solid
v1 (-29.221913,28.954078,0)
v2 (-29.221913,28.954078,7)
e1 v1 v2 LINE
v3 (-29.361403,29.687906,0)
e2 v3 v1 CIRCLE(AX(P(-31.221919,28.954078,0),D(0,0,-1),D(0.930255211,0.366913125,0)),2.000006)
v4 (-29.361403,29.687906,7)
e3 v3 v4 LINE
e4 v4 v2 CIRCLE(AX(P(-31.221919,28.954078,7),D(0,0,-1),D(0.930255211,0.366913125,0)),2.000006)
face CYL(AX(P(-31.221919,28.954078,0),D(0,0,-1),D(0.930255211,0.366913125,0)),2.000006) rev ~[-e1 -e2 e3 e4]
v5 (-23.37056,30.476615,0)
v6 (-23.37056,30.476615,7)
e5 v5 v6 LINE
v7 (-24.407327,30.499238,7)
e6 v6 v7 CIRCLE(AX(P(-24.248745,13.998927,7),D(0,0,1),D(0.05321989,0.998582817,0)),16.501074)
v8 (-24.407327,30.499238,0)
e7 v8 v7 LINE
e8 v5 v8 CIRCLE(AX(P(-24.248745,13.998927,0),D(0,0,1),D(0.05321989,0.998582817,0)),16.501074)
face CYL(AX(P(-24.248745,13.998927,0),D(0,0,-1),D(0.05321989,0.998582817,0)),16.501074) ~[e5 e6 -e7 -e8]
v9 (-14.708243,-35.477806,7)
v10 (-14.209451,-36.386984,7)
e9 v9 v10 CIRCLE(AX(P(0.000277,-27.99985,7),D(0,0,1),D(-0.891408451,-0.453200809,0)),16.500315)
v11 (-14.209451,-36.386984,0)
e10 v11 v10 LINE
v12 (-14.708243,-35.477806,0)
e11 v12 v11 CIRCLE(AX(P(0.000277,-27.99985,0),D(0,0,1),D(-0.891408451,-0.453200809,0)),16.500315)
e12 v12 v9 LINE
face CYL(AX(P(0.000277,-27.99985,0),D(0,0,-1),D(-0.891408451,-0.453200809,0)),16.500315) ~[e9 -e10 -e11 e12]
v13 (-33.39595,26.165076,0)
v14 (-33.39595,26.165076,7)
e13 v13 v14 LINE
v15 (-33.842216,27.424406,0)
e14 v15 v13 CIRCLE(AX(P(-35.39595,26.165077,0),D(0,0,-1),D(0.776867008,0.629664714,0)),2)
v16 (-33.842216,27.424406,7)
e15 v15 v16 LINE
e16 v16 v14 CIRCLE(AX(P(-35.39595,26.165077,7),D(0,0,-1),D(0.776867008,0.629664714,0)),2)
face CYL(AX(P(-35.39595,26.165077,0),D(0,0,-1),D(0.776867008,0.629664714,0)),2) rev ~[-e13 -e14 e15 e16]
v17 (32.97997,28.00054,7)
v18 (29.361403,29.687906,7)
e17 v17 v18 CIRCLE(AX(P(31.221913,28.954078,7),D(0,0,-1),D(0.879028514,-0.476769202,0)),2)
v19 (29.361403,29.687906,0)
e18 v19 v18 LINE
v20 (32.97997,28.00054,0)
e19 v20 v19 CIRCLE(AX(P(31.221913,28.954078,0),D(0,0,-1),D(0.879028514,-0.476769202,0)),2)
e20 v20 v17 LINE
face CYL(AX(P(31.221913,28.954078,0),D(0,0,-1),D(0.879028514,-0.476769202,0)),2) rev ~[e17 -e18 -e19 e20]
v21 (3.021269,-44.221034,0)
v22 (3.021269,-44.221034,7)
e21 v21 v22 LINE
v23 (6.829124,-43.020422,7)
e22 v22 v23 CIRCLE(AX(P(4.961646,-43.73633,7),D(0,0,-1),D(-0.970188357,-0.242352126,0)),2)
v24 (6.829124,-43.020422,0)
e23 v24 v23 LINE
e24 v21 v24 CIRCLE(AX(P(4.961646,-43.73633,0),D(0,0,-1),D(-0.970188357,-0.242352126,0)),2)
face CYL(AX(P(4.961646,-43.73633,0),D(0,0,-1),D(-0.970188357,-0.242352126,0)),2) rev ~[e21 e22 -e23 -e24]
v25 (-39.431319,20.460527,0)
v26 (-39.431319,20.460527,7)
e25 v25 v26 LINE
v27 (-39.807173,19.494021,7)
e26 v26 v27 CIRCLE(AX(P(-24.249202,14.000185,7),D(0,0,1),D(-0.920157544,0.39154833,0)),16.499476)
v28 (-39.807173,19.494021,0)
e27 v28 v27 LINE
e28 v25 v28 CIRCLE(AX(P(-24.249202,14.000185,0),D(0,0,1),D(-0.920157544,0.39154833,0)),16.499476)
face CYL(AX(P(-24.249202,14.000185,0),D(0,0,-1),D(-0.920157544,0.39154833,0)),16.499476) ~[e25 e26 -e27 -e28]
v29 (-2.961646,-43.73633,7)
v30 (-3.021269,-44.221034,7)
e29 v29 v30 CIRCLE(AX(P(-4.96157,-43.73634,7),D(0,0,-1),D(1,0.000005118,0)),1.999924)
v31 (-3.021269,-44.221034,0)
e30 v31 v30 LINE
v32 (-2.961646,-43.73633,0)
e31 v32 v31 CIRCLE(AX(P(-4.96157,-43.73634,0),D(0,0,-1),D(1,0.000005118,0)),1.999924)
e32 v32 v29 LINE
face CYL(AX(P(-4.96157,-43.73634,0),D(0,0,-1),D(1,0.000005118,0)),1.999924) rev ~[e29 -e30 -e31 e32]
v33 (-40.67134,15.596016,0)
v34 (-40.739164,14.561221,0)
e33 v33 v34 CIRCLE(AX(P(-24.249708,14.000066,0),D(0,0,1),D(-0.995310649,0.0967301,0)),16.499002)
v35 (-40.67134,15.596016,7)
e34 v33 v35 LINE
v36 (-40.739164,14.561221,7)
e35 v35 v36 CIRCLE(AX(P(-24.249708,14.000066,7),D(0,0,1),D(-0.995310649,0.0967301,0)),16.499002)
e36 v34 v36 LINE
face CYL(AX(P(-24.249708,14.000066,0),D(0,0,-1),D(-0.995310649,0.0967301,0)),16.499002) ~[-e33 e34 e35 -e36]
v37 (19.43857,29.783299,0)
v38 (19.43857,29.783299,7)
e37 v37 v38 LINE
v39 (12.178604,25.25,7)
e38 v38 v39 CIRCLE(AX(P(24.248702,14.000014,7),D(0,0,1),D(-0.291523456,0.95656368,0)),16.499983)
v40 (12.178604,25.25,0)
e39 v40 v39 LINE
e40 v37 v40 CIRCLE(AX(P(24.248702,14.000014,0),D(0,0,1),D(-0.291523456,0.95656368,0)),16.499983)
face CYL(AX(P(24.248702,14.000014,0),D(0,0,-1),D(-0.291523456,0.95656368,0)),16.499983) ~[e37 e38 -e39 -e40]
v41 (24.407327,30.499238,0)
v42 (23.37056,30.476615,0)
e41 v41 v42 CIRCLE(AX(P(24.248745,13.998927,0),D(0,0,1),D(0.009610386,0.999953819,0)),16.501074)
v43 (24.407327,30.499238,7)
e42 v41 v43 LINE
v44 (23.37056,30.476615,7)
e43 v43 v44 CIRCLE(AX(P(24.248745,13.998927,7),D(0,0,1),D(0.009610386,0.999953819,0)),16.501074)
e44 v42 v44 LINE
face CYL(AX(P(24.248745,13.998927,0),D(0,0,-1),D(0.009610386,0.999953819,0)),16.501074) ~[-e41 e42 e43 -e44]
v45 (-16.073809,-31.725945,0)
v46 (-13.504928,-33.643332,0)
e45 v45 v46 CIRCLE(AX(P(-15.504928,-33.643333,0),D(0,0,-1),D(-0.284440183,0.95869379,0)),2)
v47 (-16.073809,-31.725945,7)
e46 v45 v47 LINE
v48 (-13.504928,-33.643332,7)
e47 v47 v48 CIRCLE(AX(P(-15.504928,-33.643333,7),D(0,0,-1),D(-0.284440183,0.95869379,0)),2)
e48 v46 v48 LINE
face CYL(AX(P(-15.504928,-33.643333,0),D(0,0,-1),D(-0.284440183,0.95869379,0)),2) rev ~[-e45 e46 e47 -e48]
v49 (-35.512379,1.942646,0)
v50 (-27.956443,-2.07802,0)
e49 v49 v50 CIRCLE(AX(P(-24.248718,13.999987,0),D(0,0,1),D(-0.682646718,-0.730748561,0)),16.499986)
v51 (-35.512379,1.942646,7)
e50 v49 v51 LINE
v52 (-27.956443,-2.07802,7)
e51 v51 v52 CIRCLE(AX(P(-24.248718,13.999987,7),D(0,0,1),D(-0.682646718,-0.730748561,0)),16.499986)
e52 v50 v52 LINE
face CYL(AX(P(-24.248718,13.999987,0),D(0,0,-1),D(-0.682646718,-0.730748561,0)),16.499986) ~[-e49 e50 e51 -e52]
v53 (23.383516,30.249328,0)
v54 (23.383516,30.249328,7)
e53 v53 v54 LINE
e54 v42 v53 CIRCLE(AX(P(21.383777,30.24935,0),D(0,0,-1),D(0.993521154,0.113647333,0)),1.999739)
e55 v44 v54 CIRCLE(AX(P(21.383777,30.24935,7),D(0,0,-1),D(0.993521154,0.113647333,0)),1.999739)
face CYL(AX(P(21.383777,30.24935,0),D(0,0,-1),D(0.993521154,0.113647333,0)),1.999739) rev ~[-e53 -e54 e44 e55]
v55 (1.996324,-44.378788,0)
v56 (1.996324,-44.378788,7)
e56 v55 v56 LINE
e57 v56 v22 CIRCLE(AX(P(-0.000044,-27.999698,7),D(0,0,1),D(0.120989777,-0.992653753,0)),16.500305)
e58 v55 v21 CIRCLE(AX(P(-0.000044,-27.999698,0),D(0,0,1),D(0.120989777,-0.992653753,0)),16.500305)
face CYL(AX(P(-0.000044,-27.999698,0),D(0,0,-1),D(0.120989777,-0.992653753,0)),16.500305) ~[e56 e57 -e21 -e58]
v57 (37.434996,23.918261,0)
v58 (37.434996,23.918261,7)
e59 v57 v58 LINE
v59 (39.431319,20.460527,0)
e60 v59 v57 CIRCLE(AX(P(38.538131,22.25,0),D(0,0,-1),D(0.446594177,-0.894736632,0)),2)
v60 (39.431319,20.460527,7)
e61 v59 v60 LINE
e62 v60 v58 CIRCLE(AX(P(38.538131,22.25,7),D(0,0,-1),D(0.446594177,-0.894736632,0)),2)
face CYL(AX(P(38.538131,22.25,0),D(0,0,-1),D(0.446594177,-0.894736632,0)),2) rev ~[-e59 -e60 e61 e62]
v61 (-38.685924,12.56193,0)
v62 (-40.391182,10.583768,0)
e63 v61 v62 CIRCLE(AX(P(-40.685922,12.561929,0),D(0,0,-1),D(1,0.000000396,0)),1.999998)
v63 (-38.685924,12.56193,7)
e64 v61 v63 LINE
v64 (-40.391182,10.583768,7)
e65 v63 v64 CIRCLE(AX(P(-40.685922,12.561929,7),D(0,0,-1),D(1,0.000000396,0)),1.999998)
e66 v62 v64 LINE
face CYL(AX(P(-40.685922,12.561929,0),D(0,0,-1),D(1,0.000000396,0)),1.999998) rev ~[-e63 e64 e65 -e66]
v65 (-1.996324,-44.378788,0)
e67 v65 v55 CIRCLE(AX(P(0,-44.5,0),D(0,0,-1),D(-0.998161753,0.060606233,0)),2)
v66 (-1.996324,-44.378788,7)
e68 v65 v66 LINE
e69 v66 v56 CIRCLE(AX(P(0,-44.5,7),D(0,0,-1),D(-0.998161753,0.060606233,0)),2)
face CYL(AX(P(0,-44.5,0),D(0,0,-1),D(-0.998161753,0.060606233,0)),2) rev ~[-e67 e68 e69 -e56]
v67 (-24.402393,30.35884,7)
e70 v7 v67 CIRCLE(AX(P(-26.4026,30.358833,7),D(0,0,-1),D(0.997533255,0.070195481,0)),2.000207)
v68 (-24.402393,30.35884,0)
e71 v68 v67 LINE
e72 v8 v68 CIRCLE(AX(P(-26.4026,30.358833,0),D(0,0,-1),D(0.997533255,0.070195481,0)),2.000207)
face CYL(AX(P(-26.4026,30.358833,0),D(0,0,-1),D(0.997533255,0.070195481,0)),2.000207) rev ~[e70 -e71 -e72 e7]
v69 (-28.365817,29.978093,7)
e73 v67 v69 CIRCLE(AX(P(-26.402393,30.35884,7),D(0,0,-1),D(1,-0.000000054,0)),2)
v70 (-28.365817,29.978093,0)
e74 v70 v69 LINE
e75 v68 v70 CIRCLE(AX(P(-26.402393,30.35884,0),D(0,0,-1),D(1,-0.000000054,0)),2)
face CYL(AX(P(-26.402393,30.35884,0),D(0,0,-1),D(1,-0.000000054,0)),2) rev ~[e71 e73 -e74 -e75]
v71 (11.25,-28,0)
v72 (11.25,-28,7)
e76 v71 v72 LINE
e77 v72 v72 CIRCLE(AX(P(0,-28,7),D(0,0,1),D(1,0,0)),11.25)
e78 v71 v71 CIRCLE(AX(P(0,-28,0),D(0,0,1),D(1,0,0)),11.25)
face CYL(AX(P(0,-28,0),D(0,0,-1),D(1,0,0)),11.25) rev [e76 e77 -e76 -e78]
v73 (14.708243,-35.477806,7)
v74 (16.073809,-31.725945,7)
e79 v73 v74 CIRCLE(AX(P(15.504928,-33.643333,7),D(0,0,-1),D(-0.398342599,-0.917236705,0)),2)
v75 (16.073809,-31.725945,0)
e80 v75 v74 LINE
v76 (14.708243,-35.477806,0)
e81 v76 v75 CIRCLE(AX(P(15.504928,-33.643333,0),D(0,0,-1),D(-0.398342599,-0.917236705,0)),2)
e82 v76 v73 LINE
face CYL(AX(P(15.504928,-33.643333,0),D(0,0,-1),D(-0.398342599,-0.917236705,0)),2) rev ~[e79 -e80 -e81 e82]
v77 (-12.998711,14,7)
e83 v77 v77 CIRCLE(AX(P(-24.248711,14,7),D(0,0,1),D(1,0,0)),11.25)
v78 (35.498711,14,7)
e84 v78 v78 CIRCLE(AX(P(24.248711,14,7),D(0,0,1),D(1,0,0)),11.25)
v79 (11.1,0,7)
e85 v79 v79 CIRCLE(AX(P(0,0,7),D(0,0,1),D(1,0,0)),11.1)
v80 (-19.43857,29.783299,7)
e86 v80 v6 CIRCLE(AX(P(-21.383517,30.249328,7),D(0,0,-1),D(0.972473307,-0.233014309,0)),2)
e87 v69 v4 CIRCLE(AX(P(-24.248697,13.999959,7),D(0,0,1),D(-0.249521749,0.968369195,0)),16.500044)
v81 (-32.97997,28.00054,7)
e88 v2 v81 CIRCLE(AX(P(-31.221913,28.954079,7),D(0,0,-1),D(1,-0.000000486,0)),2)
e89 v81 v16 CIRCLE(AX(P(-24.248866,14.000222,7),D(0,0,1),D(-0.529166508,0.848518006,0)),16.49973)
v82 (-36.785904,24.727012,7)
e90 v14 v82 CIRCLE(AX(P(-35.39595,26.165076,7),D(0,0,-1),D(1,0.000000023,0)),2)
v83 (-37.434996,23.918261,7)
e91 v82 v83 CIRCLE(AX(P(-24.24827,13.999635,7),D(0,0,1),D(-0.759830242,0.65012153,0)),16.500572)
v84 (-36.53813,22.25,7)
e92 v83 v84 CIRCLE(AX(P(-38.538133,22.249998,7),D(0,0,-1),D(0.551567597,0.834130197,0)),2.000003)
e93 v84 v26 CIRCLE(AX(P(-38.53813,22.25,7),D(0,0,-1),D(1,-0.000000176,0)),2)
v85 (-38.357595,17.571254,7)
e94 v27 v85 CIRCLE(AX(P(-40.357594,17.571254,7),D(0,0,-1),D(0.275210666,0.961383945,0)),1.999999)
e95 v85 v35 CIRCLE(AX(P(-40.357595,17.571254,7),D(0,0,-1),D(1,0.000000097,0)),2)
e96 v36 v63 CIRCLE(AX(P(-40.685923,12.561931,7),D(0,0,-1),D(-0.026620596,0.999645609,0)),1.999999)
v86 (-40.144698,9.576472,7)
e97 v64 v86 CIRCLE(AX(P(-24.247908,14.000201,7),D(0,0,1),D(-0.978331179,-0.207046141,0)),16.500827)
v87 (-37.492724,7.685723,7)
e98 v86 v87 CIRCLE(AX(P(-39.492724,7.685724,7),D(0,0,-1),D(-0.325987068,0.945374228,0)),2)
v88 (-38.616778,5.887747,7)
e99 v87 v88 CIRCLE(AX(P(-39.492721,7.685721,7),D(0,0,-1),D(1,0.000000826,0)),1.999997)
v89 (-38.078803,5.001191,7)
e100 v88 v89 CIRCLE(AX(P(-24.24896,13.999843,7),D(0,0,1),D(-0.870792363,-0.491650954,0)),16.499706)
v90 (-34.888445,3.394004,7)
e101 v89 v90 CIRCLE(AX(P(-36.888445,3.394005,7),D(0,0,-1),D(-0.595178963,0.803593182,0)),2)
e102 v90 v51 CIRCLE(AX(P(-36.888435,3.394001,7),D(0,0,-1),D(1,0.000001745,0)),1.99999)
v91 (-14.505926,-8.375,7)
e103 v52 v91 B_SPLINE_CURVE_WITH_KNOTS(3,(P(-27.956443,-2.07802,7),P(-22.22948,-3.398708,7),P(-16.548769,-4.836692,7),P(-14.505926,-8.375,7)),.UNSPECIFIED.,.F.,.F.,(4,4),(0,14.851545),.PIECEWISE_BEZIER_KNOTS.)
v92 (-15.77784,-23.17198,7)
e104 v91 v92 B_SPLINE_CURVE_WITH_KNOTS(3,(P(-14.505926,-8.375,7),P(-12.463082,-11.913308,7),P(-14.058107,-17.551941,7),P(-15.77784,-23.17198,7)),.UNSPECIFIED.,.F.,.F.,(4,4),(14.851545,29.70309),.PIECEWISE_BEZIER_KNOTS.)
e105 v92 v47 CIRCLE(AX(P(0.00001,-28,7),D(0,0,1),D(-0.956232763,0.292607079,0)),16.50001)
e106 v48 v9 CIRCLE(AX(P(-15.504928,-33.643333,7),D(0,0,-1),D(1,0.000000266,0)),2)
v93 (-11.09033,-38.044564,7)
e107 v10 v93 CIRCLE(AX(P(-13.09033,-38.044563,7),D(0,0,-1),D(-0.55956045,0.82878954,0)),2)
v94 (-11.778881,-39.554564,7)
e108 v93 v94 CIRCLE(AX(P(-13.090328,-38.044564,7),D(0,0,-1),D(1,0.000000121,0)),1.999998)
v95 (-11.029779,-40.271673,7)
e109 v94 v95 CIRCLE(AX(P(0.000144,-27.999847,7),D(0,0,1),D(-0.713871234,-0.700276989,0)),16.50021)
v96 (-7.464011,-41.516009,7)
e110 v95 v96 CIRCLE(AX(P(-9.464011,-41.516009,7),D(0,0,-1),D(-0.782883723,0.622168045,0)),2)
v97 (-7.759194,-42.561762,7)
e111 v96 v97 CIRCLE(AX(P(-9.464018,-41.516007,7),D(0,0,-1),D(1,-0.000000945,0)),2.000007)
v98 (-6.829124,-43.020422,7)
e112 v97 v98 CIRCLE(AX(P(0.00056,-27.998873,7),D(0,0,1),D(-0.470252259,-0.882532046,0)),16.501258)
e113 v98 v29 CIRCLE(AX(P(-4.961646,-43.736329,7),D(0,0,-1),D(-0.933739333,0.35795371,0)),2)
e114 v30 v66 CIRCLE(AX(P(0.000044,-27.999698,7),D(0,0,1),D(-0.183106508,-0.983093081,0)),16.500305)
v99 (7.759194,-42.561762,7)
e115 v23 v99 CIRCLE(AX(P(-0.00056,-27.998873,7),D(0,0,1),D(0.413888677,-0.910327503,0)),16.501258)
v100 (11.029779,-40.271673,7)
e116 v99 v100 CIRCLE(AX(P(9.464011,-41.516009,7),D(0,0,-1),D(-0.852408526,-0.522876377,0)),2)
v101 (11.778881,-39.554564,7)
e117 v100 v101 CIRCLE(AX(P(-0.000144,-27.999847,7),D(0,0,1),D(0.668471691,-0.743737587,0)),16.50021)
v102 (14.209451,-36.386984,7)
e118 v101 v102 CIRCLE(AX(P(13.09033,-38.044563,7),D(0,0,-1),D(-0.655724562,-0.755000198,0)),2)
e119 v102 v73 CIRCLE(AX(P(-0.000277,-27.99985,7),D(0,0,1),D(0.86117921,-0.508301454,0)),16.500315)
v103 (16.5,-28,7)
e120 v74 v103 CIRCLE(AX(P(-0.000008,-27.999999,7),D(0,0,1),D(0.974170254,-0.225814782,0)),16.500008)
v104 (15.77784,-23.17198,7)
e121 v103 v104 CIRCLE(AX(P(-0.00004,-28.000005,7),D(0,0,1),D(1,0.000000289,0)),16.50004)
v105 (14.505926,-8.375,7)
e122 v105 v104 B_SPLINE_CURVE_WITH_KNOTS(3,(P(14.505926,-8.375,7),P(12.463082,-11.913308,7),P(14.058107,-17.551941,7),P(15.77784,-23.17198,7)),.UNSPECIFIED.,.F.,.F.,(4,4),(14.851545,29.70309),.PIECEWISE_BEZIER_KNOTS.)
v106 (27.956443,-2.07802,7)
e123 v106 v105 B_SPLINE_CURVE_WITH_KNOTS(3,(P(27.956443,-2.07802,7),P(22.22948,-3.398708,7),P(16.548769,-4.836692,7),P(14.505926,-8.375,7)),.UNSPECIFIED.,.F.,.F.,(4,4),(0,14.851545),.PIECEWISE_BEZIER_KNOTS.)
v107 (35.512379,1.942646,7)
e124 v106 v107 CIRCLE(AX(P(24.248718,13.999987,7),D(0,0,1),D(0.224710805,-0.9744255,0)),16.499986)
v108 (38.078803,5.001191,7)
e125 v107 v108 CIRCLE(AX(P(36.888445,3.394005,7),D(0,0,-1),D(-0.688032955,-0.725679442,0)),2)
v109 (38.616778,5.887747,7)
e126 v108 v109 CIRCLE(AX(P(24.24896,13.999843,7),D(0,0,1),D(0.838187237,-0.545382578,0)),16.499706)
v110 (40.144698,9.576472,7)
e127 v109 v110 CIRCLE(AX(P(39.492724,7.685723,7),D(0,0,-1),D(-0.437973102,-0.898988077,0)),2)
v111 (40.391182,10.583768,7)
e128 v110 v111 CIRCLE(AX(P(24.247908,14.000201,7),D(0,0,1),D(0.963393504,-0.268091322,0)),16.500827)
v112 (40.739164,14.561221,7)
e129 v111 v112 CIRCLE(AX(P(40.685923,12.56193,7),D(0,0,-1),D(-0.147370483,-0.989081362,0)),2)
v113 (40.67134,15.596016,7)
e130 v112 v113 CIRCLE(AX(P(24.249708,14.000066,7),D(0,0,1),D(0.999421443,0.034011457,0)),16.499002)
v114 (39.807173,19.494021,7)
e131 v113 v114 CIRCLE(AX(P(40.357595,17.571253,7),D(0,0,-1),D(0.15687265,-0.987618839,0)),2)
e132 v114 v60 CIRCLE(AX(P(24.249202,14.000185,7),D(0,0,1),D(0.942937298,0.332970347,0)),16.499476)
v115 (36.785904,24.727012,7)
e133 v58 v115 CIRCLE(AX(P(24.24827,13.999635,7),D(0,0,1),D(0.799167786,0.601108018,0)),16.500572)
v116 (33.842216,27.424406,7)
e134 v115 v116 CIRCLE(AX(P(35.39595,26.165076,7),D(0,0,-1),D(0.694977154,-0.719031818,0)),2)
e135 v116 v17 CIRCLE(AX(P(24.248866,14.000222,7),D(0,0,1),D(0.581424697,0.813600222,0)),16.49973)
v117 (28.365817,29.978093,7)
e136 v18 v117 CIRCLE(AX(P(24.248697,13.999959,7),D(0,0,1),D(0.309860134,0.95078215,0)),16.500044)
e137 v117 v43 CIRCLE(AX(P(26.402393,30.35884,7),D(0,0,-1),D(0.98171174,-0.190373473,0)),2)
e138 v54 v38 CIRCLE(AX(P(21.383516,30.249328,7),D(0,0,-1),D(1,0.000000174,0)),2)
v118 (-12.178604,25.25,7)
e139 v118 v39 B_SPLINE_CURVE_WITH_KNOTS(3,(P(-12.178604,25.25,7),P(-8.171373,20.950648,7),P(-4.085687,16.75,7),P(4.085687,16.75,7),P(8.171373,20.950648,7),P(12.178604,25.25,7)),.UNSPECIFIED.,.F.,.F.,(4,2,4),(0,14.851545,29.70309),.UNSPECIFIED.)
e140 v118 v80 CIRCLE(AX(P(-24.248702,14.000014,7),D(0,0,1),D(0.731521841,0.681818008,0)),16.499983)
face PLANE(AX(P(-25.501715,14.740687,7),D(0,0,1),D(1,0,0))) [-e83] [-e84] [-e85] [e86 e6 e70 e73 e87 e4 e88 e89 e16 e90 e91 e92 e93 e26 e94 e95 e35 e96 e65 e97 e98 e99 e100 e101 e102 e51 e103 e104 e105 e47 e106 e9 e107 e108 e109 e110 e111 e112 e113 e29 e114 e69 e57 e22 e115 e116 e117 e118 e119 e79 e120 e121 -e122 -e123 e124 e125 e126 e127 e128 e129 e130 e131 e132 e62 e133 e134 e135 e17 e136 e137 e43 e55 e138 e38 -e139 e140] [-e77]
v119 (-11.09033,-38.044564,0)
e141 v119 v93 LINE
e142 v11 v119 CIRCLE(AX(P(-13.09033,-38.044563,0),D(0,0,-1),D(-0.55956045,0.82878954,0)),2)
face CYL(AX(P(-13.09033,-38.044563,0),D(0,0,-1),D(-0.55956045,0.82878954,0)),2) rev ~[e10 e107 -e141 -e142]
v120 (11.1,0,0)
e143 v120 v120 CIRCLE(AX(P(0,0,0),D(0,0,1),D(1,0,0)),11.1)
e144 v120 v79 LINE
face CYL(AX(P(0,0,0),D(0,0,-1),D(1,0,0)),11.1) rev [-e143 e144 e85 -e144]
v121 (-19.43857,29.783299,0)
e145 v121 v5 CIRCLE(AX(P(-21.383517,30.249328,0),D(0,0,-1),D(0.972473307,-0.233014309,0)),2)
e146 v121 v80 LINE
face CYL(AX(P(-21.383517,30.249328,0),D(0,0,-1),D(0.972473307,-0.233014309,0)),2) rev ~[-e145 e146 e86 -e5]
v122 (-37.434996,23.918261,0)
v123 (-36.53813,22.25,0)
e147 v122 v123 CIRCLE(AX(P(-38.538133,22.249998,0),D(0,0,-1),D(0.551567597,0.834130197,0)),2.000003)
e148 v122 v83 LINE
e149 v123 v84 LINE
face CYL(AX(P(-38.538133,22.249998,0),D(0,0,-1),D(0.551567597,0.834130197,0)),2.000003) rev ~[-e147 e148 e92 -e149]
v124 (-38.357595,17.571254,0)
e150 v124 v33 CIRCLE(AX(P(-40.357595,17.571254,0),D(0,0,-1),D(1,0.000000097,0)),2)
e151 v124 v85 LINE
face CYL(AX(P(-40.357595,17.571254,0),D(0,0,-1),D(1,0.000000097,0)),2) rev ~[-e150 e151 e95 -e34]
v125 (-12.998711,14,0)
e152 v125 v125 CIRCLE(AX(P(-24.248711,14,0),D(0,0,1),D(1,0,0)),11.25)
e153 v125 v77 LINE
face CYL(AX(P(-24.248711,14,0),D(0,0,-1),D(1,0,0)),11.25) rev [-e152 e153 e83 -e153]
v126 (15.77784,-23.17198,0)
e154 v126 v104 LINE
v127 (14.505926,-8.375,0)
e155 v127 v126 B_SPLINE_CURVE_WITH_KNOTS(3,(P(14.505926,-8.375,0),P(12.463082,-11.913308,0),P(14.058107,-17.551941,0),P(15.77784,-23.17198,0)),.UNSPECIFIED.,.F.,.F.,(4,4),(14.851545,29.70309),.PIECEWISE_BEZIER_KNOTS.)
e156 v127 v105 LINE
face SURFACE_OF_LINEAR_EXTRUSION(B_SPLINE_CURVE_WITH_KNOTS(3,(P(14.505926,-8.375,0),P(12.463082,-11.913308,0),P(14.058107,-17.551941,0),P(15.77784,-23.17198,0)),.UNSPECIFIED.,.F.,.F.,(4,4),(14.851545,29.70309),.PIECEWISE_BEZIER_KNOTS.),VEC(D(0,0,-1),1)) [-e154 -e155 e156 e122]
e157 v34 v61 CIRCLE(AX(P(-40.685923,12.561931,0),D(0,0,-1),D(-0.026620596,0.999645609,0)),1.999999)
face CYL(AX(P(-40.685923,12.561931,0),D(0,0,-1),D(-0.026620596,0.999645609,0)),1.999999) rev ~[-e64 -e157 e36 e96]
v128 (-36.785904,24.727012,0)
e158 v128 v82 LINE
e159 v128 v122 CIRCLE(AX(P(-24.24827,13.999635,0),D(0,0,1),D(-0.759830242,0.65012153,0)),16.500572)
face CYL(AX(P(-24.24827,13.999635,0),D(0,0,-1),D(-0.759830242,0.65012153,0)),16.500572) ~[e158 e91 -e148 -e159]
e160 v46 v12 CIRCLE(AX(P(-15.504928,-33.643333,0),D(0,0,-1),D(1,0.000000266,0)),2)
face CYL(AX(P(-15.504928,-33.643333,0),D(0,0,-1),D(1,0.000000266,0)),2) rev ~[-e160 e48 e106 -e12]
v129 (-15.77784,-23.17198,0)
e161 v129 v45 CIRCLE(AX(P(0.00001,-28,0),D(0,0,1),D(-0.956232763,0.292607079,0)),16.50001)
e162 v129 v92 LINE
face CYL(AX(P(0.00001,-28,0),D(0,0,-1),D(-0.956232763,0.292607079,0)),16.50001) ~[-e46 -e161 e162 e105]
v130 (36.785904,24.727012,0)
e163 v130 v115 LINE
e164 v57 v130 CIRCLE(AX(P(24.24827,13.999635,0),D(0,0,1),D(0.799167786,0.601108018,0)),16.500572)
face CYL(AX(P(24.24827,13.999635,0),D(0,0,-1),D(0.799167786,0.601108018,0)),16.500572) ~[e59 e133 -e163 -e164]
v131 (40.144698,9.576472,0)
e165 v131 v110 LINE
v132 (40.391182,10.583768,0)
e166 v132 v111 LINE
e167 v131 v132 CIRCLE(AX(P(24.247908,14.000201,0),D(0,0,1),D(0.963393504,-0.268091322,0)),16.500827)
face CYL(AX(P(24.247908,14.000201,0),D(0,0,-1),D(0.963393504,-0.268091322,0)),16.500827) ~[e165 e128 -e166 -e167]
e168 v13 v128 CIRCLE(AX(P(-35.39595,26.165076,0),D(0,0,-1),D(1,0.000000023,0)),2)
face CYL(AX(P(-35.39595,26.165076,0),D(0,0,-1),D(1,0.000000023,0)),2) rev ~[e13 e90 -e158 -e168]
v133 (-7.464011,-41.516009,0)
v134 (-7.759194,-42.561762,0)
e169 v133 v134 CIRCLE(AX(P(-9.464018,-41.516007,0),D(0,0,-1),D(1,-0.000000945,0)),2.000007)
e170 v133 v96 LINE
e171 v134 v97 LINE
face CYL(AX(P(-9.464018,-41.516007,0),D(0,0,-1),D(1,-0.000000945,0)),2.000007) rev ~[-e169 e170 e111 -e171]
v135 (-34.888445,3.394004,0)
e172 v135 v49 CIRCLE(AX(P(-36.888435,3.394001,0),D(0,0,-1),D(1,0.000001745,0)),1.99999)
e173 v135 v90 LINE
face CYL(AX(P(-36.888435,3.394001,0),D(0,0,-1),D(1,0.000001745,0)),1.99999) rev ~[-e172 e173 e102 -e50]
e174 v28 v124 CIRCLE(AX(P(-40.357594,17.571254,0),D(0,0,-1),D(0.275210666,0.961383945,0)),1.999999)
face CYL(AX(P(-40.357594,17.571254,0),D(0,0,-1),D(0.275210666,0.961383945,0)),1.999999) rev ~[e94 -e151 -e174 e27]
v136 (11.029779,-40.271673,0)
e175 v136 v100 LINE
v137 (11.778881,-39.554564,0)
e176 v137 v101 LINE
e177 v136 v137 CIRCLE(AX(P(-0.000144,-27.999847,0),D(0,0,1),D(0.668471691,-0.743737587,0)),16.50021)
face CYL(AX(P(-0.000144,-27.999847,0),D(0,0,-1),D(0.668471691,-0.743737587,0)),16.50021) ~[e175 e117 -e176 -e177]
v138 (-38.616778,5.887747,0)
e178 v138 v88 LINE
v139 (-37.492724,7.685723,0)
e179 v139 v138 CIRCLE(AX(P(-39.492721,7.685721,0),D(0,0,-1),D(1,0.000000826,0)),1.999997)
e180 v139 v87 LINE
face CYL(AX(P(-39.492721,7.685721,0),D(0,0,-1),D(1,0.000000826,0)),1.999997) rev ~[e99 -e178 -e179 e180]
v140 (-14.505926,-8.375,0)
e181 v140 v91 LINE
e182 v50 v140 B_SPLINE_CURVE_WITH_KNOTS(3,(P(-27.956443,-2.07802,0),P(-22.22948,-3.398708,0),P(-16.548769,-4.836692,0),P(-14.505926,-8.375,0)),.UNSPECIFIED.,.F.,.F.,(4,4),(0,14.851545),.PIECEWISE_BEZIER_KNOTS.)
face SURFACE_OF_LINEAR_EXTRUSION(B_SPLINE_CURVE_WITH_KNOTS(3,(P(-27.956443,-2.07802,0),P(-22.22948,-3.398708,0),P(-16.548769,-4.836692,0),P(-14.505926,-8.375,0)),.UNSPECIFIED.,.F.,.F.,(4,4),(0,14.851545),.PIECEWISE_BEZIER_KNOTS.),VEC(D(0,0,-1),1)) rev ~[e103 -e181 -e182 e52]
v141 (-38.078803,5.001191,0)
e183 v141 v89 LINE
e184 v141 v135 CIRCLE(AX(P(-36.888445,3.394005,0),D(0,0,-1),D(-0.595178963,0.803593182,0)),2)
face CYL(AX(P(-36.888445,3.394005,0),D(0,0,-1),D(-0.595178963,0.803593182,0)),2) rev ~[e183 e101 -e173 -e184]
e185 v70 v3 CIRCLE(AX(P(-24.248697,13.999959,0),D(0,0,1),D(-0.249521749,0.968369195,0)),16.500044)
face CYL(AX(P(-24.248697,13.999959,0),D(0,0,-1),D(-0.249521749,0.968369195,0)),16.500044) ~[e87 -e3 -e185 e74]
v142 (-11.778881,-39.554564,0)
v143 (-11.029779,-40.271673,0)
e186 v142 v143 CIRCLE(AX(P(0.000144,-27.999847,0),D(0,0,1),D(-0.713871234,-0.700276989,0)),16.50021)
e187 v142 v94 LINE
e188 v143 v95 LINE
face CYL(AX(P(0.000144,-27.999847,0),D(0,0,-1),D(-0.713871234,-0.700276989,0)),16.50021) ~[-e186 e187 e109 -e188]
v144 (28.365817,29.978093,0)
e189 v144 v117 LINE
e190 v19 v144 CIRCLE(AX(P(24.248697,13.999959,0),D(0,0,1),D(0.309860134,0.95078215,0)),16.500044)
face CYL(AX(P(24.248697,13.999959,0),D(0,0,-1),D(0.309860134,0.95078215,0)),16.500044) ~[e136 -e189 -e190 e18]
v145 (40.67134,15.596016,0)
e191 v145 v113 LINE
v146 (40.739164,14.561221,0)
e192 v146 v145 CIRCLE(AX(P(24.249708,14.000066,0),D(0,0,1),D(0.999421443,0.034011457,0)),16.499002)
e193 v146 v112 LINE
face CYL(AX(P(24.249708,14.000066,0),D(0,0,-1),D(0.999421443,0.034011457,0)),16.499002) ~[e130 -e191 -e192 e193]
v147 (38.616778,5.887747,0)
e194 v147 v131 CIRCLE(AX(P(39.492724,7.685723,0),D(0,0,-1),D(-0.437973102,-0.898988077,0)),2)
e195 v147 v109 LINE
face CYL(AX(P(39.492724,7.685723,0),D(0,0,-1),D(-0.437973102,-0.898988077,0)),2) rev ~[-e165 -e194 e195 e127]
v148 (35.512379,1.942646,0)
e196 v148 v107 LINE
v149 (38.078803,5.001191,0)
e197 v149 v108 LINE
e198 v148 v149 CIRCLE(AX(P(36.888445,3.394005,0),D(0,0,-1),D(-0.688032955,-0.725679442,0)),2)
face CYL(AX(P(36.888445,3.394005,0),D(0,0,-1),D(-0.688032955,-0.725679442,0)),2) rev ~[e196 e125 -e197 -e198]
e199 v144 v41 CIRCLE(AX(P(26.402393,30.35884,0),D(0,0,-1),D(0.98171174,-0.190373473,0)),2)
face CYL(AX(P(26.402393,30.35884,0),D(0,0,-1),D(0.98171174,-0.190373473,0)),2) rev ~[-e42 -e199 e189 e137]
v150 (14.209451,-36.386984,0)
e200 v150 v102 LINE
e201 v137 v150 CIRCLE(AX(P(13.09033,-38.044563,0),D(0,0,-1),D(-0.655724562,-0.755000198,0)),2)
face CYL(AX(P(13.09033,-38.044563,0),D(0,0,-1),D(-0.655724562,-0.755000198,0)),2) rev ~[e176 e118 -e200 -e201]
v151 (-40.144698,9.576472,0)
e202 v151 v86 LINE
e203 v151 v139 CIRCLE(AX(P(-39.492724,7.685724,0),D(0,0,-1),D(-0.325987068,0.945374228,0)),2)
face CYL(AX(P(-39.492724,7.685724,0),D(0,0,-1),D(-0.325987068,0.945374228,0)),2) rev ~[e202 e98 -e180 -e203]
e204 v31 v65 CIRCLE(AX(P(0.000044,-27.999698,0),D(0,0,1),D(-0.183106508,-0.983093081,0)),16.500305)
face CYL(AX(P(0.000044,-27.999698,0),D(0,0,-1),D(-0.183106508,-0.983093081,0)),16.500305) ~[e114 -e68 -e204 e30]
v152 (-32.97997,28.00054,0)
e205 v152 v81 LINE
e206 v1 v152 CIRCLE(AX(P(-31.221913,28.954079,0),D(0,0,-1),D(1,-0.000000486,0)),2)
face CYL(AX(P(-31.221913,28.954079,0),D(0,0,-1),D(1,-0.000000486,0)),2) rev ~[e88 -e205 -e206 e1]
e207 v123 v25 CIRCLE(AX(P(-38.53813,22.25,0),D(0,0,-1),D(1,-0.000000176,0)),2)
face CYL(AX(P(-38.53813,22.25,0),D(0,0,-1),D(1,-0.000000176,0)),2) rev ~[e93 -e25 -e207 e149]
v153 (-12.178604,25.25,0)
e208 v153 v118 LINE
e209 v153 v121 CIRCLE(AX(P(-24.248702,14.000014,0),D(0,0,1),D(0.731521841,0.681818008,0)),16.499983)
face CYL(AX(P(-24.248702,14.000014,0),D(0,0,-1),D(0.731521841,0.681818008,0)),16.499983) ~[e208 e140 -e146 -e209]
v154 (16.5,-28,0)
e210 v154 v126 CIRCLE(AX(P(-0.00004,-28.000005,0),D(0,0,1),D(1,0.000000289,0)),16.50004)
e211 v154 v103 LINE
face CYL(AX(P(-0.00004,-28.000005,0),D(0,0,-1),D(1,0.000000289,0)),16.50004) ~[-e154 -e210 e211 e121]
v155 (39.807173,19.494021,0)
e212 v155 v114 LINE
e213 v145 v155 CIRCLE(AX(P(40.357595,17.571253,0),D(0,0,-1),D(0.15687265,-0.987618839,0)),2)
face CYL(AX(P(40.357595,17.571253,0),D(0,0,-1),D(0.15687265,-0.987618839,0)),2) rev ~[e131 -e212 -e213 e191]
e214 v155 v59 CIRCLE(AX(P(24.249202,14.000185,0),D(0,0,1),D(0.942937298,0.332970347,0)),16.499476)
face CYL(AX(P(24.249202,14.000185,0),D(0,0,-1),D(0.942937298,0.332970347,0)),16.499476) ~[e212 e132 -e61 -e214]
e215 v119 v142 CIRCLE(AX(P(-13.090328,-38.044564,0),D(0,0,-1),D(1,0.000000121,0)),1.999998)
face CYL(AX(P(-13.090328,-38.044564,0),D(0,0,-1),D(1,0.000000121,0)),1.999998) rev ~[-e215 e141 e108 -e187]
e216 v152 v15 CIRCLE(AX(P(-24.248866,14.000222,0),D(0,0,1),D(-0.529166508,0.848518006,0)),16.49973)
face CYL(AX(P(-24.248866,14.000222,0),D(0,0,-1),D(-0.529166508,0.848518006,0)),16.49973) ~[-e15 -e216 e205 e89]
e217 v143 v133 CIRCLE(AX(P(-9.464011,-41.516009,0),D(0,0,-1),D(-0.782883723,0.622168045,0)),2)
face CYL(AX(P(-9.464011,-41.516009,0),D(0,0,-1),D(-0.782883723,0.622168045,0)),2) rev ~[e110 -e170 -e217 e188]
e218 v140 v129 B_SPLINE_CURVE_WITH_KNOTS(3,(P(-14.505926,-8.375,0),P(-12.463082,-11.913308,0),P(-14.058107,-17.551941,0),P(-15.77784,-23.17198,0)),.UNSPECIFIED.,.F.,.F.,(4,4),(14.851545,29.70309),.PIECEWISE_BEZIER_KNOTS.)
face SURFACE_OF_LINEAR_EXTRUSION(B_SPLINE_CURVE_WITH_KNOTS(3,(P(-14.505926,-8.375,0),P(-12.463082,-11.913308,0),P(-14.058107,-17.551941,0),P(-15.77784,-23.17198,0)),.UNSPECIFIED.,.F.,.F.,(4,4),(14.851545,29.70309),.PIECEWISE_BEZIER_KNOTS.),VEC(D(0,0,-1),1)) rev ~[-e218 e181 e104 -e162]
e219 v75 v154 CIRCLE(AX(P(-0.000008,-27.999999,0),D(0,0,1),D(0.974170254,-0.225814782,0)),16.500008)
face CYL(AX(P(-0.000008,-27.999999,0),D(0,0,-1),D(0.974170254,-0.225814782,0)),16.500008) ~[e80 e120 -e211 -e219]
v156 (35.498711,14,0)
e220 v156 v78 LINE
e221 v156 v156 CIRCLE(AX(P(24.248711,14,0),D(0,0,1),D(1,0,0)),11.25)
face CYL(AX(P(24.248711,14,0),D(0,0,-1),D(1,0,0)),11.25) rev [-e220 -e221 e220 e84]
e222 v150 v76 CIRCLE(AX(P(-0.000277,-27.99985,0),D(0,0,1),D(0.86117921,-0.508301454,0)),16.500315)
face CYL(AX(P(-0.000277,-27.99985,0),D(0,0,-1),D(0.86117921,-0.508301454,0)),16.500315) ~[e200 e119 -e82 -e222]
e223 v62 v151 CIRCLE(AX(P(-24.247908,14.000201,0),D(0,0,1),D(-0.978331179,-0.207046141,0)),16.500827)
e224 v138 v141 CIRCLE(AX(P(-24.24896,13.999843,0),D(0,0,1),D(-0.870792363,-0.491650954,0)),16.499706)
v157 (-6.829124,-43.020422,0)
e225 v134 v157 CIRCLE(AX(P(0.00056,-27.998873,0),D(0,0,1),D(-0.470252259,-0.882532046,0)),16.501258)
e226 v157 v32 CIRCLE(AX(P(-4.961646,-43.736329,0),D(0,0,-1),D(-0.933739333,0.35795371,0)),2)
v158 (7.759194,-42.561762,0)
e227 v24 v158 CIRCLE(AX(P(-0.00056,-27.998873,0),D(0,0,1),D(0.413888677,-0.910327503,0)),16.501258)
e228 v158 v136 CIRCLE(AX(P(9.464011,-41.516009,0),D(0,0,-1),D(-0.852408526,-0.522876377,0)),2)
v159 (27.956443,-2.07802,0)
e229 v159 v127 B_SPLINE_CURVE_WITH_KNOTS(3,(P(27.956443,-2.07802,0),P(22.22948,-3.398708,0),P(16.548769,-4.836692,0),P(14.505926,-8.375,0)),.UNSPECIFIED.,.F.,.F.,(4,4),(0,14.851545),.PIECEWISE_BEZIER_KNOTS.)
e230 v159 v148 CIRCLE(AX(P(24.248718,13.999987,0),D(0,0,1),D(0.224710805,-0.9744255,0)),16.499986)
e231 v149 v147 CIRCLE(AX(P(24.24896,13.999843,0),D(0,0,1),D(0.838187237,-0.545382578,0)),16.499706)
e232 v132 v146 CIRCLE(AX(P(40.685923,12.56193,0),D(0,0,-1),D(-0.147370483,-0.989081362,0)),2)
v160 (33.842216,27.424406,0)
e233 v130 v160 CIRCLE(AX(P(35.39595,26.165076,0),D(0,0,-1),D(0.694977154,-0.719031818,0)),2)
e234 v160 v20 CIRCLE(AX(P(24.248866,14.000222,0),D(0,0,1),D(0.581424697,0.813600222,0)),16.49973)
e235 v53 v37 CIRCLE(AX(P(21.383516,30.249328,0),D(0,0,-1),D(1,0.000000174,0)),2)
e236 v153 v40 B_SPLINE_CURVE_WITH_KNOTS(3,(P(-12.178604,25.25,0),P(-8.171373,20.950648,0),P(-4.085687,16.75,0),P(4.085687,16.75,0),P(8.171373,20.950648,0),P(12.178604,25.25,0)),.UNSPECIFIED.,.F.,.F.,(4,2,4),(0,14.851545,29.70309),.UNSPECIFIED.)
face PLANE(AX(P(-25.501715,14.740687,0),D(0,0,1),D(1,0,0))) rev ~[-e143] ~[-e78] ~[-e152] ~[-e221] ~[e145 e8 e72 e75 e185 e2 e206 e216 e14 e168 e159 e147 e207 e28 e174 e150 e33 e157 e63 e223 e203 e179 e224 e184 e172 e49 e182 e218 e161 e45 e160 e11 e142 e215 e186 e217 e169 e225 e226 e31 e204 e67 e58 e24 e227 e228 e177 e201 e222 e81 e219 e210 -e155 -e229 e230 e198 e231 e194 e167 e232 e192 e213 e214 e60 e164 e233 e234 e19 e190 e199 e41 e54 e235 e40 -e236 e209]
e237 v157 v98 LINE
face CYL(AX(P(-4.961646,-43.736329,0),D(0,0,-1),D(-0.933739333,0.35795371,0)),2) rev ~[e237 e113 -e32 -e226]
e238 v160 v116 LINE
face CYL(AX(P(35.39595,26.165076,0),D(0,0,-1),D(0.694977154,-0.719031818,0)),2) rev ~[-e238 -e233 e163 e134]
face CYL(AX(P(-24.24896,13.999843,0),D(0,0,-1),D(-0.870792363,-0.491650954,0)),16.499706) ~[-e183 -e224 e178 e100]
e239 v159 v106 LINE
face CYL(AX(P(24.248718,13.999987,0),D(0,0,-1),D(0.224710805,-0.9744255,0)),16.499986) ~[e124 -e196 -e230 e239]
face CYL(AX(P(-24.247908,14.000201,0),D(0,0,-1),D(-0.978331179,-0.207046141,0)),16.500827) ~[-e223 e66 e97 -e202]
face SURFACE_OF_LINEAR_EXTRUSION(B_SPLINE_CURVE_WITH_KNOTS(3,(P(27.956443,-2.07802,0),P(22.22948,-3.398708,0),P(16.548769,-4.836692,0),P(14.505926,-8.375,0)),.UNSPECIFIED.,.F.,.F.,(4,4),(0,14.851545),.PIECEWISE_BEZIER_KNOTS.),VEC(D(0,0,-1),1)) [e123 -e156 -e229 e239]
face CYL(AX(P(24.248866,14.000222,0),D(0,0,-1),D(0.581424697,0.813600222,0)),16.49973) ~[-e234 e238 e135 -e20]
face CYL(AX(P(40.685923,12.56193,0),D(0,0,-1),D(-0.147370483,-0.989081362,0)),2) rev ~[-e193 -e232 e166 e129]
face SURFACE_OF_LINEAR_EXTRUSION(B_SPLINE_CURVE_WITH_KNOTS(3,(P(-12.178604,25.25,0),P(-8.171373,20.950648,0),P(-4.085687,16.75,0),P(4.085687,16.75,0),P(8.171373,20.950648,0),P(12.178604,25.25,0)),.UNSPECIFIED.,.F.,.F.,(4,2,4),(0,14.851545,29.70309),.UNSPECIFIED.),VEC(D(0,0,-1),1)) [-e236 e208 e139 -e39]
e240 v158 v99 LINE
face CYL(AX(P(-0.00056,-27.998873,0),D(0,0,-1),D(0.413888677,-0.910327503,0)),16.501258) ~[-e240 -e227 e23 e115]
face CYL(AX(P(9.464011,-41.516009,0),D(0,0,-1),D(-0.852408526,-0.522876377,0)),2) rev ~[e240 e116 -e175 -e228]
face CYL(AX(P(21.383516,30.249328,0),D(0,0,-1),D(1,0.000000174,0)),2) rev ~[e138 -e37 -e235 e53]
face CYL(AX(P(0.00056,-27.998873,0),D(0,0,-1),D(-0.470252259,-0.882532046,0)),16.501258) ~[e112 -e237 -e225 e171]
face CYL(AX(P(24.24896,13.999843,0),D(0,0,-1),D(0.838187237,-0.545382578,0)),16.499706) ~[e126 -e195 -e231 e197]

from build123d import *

# Parameters (mm, degrees)
F0_R     = 11.25
F0_R_2   = 11.1
F1_DEPTH = 7


with BuildPart() as f1:
    # F0 (on Top) → F1 (new body)
    with BuildSketch(Plane.XY):
        with BuildLine():
            ThreePointArc((-7.748711, 14), (-8.896077, 20.045379), (-12.178604, 25.25))
            ThreePointArc((-12.178604, 25.25), (-15.509523, 27.995592), (-19.43857, 29.783299))
            ThreePointArc((-19.43857, 29.783299), (-21.730813, 28.279712), (-23.37056, 30.476615))
            ThreePointArc((-23.37056, 30.476615), (-23.888766, 30.496073), (-24.407327, 30.499238))
            ThreePointArc((-24.407327, 30.499238), (-24.403627, 30.429082), (-24.402393, 30.35884))
            ThreePointArc((-24.402393, 30.35884), (-26.211143, 28.368005), (-28.365817, 29.978093))
            ThreePointArc((-28.365817, 29.978093), (-28.86589, 29.840823), (-29.361403, 29.687906))
            ThreePointArc((-29.361403, 29.687906), (-29.257095, 29.327562), (-29.221913, 28.954078))
            ThreePointArc((-29.221913, 28.954078), (-30.730036, 27.015508), (-32.97997, 28.00054))
            ThreePointArc((-32.97997, 28.00054), (-33.41562, 27.719249), (-33.842216, 27.424406))
            ThreePointArc((-33.842216, 27.424406), (-33.510815, 26.833108), (-33.39595, 26.165076))
            ThreePointArc((-33.39595, 26.165076), (-34.614896, 24.323893), (-36.785904, 24.727012))
            ThreePointArc((-36.785904, 24.727012), (-37.116805, 24.327737), (-37.434996, 23.918261))
            ThreePointArc((-37.434996, 23.918261), (-36.776559, 23.19703), (-36.53813, 22.25))
            ThreePointArc((-36.53813, 22.25), (-37.48608, 20.549062), (-39.431319, 20.460527))
            ThreePointArc((-39.431319, 20.460527), (-39.626841, 19.980228), (-39.807173, 19.494021))
            ThreePointArc((-39.807173, 19.494021), (-38.760591, 18.775238), (-38.357595, 17.571254))
            ThreePointArc((-38.357595, 17.571254), (-39.059036, 16.050154), (-40.67134, 15.596016))
            ThreePointArc((-40.67134, 15.596016), (-40.713384, 15.079152), (-40.739164, 14.561221))
            ThreePointArc((-40.739164, 14.561221), (-39.29066, 13.994843), (-38.685924, 12.56193))
            ThreePointArc((-38.685924, 12.56193), (-39.171083, 11.256075), (-40.391182, 10.583768))
            ThreePointArc((-40.391182, 10.583768), (-40.275855, 10.078183), (-40.144698, 9.576472))
            ThreePointArc((-40.144698, 9.576472), (-38.331679, 9.314212), (-37.492724, 7.685723))
            ThreePointArc((-37.492724, 7.685723), (-37.796862, 6.625509), (-38.616778, 5.887747))
            ThreePointArc((-38.616778, 5.887747), (-38.354757, 5.440241), (-38.078803, 5.001191))
            ThreePointArc((-38.078803, 5.001191), (-35.988644, 5.180162), (-34.888445, 3.394004))
            ThreePointArc((-34.888445, 3.394004), (-35.051037, 2.604109), (-35.512379, 1.942646))
            ThreePointArc((-35.512379, 1.942646), (-31.999656, -0.566155), (-27.956443, -2.07802))
            ThreePointArc((-27.956443, -2.07802), (-13.975629, 1.088231), (-7.748711, 14))
        make_face()
        with Locations((-24.248711, 14)):
            Circle(F0_R, mode=Mode.SUBTRACT)
        with BuildLine():
            ThreePointArc((27.956443, -2.07802), (9.959292, 5.75), (12.178604, 25.25))
            add(Edge.make_bspline(
                [(0, 16.75), (4.085687, 16.75), (8.171373, 20.950648), (12.178604, 25.25)],
                knots=[14.851545, 14.851545, 14.851545, 14.851545, 29.70309, 29.70309, 29.70309, 29.70309], degree=3))
            add(Edge.make_bspline(
                [(-12.178604, 25.25), (-8.171373, 20.950648), (-4.085687, 16.75), (0, 16.75)],
                knots=[0, 0, 0, 0, 14.851545, 14.851545, 14.851545, 14.851545], degree=3))
            ThreePointArc((-12.178604, 25.25), (-8.896077, 20.045379), (-7.748711, 14))
            ThreePointArc((-7.748711, 14), (-13.975629, 1.088231), (-27.956443, -2.07802))
            add(Edge.make_bspline(
                [(-27.956443, -2.07802), (-22.22948, -3.398708), (-16.548769, -4.836692), (-14.505926, -8.375)],
                knots=[0, 0, 0, 0, 14.851545, 14.851545, 14.851545, 14.851545], degree=3))
            add(Edge.make_bspline(
                [(-14.505926, -8.375), (-12.463082, -11.913308), (-14.058107, -17.551941), (-15.77784, -23.17198)],
                knots=[14.851545, 14.851545, 14.851545, 14.851545, 29.70309, 29.70309, 29.70309, 29.70309], degree=3))
            ThreePointArc((-15.77784, -23.17198), (0, -11.5), (15.77784, -23.17198))
            add(Edge.make_bspline(
                [(14.505926, -8.375), (12.463082, -11.913308), (14.058107, -17.551941), (15.77784, -23.17198)],
                knots=[14.851545, 14.851545, 14.851545, 14.851545, 29.70309, 29.70309, 29.70309, 29.70309], degree=3))
            add(Edge.make_bspline(
                [(27.956443, -2.07802), (22.22948, -3.398708), (16.548769, -4.836692), (14.505926, -8.375)],
                knots=[0, 0, 0, 0, 14.851545, 14.851545, 14.851545, 14.851545], degree=3))
        make_face()
        Circle(F0_R_2, mode=Mode.SUBTRACT)
        with BuildLine():
            ThreePointArc((19.43857, 29.783299), (15.509523, 27.995592), (12.178604, 25.25))
            ThreePointArc((12.178604, 25.25), (9.959292, 5.75), (27.956443, -2.07802))
            ThreePointArc((27.956443, -2.07802), (31.999656, -0.566155), (35.512379, 1.942646))
            ThreePointArc((35.512379, 1.942646), (35.356356, 4.67958), (38.078803, 5.001191))
            ThreePointArc((38.078803, 5.001191), (38.354757, 5.440241), (38.616778, 5.887747))
            ThreePointArc((38.616778, 5.887747), (37.644965, 8.45109), (40.144698, 9.576472))
            ThreePointArc((40.144698, 9.576472), (40.275855, 10.078183), (40.391182, 10.583768))
            ThreePointArc((40.391182, 10.583768), (38.693534, 12.736242), (40.739164, 14.561221))
            ThreePointArc((40.739164, 14.561221), (40.713384, 15.079152), (40.67134, 15.596016))
            ThreePointArc((40.67134, 15.596016), (38.405003, 17.138374), (39.807173, 19.494021))
            ThreePointArc((39.807173, 19.494021), (39.626841, 19.980228), (39.431319, 20.460527))
            ThreePointArc((39.431319, 20.460527), (36.80608, 21.25), (37.434996, 23.918261))
            ThreePointArc((37.434996, 23.918261), (37.116805, 24.327737), (36.785904, 24.727012))
            ThreePointArc((36.785904, 24.727012), (34.044769, 24.690521), (33.842216, 27.424406))
            ThreePointArc((33.842216, 27.424406), (33.41562, 27.719249), (32.97997, 28.00054))
            ThreePointArc((32.97997, 28.00054), (30.376676, 27.141463), (29.361403, 29.687906))
            ThreePointArc((29.361403, 29.687906), (28.86589, 29.840823), (28.365817, 29.978093))
            ThreePointArc((28.365817, 29.978093), (26.141341, 28.37595), (24.407327, 30.499238))
            ThreePointArc((24.407327, 30.499238), (23.888766, 30.496073), (23.37056, 30.476615))
            ThreePointArc((23.37056, 30.476615), (23.380275, 30.363156), (23.383516, 30.249328))
            ThreePointArc((23.383516, 30.249328), (21.618151, 28.263139), (19.43857, 29.783299))
        make_face()
        with Locations((24.248711, 14)):
            Circle(F0_R, mode=Mode.SUBTRACT)
        with BuildLine():
            ThreePointArc((16.5, -28), (16.318461, -25.559135), (15.77784, -23.17198))
            ThreePointArc((15.77784, -23.17198), (0, -11.5), (-15.77784, -23.17198))
            ThreePointArc((-15.77784, -23.17198), (-16.490132, -27.429437), (-16.073809, -31.725945))
            ThreePointArc((-16.073809, -31.725945), (-14.308634, -32.04056), (-13.504928, -33.643332))
            ThreePointArc((-13.504928, -33.643332), (-13.832599, -34.74029), (-14.708243, -35.477806))
            ThreePointArc((-14.708243, -35.477806), (-14.465991, -35.936315), (-14.209451, -36.386984))
            ThreePointArc((-14.209451, -36.386984), (-12.151778, -36.27846), (-11.09033, -38.044564))
            ThreePointArc((-11.09033, -38.044564), (-11.270591, -38.874353), (-11.778881, -39.554564))
            ThreePointArc((-11.778881, -39.554564), (-11.409965, -39.919005), (-11.029779, -40.271673))
            ThreePointArc((-11.029779, -40.271673), (-8.805048, -39.627685), (-7.464011, -41.516009))
            ThreePointArc((-7.464011, -41.516009), (-7.539221, -42.059316), (-7.759194, -42.561762))
            ThreePointArc((-7.759194, -42.561762), (-7.297763, -42.7984), (-6.829124, -43.020422))
            ThreePointArc((-6.829124, -43.020422), (-4.597611, -41.769739), (-2.961646, -43.73633))
            ThreePointArc((-2.961646, -43.73633), (-2.976607, -43.980508), (-3.021269, -44.221034))
            ThreePointArc((-3.021269, -44.221034), (-2.510036, -44.307965), (-1.996324, -44.378788))
            ThreePointArc((-1.996324, -44.378788), (0, -42.5), (1.996324, -44.378788))
            ThreePointArc((1.996324, -44.378788), (2.510036, -44.307965), (3.021269, -44.221034))
            ThreePointArc((3.021269, -44.221034), (4.360234, -41.828896), (6.829124, -43.020422))
            ThreePointArc((6.829124, -43.020422), (7.297763, -42.7984), (7.759194, -42.561762))
            ThreePointArc((7.759194, -42.561762), (8.316858, -39.877705), (11.029779, -40.271673))
            ThreePointArc((11.029779, -40.271673), (11.409965, -39.919005), (11.778881, -39.554564))
            ThreePointArc((11.778881, -39.554564), (11.503623, -36.827041), (14.209451, -36.386984))
            ThreePointArc((14.209451, -36.386984), (14.465991, -35.936315), (14.708243, -35.477806))
            ThreePointArc((14.708243, -35.477806), (13.625543, -32.959292), (16.073809, -31.725945))
            ThreePointArc((16.073809, -31.725945), (16.393106, -29.87512), (16.5, -28))
        make_face()
        with Locations((0, -28)):
            Circle(F0_R, mode=Mode.SUBTRACT)
    extrude(amount=F1_DEPTH)


solid = f1.part
